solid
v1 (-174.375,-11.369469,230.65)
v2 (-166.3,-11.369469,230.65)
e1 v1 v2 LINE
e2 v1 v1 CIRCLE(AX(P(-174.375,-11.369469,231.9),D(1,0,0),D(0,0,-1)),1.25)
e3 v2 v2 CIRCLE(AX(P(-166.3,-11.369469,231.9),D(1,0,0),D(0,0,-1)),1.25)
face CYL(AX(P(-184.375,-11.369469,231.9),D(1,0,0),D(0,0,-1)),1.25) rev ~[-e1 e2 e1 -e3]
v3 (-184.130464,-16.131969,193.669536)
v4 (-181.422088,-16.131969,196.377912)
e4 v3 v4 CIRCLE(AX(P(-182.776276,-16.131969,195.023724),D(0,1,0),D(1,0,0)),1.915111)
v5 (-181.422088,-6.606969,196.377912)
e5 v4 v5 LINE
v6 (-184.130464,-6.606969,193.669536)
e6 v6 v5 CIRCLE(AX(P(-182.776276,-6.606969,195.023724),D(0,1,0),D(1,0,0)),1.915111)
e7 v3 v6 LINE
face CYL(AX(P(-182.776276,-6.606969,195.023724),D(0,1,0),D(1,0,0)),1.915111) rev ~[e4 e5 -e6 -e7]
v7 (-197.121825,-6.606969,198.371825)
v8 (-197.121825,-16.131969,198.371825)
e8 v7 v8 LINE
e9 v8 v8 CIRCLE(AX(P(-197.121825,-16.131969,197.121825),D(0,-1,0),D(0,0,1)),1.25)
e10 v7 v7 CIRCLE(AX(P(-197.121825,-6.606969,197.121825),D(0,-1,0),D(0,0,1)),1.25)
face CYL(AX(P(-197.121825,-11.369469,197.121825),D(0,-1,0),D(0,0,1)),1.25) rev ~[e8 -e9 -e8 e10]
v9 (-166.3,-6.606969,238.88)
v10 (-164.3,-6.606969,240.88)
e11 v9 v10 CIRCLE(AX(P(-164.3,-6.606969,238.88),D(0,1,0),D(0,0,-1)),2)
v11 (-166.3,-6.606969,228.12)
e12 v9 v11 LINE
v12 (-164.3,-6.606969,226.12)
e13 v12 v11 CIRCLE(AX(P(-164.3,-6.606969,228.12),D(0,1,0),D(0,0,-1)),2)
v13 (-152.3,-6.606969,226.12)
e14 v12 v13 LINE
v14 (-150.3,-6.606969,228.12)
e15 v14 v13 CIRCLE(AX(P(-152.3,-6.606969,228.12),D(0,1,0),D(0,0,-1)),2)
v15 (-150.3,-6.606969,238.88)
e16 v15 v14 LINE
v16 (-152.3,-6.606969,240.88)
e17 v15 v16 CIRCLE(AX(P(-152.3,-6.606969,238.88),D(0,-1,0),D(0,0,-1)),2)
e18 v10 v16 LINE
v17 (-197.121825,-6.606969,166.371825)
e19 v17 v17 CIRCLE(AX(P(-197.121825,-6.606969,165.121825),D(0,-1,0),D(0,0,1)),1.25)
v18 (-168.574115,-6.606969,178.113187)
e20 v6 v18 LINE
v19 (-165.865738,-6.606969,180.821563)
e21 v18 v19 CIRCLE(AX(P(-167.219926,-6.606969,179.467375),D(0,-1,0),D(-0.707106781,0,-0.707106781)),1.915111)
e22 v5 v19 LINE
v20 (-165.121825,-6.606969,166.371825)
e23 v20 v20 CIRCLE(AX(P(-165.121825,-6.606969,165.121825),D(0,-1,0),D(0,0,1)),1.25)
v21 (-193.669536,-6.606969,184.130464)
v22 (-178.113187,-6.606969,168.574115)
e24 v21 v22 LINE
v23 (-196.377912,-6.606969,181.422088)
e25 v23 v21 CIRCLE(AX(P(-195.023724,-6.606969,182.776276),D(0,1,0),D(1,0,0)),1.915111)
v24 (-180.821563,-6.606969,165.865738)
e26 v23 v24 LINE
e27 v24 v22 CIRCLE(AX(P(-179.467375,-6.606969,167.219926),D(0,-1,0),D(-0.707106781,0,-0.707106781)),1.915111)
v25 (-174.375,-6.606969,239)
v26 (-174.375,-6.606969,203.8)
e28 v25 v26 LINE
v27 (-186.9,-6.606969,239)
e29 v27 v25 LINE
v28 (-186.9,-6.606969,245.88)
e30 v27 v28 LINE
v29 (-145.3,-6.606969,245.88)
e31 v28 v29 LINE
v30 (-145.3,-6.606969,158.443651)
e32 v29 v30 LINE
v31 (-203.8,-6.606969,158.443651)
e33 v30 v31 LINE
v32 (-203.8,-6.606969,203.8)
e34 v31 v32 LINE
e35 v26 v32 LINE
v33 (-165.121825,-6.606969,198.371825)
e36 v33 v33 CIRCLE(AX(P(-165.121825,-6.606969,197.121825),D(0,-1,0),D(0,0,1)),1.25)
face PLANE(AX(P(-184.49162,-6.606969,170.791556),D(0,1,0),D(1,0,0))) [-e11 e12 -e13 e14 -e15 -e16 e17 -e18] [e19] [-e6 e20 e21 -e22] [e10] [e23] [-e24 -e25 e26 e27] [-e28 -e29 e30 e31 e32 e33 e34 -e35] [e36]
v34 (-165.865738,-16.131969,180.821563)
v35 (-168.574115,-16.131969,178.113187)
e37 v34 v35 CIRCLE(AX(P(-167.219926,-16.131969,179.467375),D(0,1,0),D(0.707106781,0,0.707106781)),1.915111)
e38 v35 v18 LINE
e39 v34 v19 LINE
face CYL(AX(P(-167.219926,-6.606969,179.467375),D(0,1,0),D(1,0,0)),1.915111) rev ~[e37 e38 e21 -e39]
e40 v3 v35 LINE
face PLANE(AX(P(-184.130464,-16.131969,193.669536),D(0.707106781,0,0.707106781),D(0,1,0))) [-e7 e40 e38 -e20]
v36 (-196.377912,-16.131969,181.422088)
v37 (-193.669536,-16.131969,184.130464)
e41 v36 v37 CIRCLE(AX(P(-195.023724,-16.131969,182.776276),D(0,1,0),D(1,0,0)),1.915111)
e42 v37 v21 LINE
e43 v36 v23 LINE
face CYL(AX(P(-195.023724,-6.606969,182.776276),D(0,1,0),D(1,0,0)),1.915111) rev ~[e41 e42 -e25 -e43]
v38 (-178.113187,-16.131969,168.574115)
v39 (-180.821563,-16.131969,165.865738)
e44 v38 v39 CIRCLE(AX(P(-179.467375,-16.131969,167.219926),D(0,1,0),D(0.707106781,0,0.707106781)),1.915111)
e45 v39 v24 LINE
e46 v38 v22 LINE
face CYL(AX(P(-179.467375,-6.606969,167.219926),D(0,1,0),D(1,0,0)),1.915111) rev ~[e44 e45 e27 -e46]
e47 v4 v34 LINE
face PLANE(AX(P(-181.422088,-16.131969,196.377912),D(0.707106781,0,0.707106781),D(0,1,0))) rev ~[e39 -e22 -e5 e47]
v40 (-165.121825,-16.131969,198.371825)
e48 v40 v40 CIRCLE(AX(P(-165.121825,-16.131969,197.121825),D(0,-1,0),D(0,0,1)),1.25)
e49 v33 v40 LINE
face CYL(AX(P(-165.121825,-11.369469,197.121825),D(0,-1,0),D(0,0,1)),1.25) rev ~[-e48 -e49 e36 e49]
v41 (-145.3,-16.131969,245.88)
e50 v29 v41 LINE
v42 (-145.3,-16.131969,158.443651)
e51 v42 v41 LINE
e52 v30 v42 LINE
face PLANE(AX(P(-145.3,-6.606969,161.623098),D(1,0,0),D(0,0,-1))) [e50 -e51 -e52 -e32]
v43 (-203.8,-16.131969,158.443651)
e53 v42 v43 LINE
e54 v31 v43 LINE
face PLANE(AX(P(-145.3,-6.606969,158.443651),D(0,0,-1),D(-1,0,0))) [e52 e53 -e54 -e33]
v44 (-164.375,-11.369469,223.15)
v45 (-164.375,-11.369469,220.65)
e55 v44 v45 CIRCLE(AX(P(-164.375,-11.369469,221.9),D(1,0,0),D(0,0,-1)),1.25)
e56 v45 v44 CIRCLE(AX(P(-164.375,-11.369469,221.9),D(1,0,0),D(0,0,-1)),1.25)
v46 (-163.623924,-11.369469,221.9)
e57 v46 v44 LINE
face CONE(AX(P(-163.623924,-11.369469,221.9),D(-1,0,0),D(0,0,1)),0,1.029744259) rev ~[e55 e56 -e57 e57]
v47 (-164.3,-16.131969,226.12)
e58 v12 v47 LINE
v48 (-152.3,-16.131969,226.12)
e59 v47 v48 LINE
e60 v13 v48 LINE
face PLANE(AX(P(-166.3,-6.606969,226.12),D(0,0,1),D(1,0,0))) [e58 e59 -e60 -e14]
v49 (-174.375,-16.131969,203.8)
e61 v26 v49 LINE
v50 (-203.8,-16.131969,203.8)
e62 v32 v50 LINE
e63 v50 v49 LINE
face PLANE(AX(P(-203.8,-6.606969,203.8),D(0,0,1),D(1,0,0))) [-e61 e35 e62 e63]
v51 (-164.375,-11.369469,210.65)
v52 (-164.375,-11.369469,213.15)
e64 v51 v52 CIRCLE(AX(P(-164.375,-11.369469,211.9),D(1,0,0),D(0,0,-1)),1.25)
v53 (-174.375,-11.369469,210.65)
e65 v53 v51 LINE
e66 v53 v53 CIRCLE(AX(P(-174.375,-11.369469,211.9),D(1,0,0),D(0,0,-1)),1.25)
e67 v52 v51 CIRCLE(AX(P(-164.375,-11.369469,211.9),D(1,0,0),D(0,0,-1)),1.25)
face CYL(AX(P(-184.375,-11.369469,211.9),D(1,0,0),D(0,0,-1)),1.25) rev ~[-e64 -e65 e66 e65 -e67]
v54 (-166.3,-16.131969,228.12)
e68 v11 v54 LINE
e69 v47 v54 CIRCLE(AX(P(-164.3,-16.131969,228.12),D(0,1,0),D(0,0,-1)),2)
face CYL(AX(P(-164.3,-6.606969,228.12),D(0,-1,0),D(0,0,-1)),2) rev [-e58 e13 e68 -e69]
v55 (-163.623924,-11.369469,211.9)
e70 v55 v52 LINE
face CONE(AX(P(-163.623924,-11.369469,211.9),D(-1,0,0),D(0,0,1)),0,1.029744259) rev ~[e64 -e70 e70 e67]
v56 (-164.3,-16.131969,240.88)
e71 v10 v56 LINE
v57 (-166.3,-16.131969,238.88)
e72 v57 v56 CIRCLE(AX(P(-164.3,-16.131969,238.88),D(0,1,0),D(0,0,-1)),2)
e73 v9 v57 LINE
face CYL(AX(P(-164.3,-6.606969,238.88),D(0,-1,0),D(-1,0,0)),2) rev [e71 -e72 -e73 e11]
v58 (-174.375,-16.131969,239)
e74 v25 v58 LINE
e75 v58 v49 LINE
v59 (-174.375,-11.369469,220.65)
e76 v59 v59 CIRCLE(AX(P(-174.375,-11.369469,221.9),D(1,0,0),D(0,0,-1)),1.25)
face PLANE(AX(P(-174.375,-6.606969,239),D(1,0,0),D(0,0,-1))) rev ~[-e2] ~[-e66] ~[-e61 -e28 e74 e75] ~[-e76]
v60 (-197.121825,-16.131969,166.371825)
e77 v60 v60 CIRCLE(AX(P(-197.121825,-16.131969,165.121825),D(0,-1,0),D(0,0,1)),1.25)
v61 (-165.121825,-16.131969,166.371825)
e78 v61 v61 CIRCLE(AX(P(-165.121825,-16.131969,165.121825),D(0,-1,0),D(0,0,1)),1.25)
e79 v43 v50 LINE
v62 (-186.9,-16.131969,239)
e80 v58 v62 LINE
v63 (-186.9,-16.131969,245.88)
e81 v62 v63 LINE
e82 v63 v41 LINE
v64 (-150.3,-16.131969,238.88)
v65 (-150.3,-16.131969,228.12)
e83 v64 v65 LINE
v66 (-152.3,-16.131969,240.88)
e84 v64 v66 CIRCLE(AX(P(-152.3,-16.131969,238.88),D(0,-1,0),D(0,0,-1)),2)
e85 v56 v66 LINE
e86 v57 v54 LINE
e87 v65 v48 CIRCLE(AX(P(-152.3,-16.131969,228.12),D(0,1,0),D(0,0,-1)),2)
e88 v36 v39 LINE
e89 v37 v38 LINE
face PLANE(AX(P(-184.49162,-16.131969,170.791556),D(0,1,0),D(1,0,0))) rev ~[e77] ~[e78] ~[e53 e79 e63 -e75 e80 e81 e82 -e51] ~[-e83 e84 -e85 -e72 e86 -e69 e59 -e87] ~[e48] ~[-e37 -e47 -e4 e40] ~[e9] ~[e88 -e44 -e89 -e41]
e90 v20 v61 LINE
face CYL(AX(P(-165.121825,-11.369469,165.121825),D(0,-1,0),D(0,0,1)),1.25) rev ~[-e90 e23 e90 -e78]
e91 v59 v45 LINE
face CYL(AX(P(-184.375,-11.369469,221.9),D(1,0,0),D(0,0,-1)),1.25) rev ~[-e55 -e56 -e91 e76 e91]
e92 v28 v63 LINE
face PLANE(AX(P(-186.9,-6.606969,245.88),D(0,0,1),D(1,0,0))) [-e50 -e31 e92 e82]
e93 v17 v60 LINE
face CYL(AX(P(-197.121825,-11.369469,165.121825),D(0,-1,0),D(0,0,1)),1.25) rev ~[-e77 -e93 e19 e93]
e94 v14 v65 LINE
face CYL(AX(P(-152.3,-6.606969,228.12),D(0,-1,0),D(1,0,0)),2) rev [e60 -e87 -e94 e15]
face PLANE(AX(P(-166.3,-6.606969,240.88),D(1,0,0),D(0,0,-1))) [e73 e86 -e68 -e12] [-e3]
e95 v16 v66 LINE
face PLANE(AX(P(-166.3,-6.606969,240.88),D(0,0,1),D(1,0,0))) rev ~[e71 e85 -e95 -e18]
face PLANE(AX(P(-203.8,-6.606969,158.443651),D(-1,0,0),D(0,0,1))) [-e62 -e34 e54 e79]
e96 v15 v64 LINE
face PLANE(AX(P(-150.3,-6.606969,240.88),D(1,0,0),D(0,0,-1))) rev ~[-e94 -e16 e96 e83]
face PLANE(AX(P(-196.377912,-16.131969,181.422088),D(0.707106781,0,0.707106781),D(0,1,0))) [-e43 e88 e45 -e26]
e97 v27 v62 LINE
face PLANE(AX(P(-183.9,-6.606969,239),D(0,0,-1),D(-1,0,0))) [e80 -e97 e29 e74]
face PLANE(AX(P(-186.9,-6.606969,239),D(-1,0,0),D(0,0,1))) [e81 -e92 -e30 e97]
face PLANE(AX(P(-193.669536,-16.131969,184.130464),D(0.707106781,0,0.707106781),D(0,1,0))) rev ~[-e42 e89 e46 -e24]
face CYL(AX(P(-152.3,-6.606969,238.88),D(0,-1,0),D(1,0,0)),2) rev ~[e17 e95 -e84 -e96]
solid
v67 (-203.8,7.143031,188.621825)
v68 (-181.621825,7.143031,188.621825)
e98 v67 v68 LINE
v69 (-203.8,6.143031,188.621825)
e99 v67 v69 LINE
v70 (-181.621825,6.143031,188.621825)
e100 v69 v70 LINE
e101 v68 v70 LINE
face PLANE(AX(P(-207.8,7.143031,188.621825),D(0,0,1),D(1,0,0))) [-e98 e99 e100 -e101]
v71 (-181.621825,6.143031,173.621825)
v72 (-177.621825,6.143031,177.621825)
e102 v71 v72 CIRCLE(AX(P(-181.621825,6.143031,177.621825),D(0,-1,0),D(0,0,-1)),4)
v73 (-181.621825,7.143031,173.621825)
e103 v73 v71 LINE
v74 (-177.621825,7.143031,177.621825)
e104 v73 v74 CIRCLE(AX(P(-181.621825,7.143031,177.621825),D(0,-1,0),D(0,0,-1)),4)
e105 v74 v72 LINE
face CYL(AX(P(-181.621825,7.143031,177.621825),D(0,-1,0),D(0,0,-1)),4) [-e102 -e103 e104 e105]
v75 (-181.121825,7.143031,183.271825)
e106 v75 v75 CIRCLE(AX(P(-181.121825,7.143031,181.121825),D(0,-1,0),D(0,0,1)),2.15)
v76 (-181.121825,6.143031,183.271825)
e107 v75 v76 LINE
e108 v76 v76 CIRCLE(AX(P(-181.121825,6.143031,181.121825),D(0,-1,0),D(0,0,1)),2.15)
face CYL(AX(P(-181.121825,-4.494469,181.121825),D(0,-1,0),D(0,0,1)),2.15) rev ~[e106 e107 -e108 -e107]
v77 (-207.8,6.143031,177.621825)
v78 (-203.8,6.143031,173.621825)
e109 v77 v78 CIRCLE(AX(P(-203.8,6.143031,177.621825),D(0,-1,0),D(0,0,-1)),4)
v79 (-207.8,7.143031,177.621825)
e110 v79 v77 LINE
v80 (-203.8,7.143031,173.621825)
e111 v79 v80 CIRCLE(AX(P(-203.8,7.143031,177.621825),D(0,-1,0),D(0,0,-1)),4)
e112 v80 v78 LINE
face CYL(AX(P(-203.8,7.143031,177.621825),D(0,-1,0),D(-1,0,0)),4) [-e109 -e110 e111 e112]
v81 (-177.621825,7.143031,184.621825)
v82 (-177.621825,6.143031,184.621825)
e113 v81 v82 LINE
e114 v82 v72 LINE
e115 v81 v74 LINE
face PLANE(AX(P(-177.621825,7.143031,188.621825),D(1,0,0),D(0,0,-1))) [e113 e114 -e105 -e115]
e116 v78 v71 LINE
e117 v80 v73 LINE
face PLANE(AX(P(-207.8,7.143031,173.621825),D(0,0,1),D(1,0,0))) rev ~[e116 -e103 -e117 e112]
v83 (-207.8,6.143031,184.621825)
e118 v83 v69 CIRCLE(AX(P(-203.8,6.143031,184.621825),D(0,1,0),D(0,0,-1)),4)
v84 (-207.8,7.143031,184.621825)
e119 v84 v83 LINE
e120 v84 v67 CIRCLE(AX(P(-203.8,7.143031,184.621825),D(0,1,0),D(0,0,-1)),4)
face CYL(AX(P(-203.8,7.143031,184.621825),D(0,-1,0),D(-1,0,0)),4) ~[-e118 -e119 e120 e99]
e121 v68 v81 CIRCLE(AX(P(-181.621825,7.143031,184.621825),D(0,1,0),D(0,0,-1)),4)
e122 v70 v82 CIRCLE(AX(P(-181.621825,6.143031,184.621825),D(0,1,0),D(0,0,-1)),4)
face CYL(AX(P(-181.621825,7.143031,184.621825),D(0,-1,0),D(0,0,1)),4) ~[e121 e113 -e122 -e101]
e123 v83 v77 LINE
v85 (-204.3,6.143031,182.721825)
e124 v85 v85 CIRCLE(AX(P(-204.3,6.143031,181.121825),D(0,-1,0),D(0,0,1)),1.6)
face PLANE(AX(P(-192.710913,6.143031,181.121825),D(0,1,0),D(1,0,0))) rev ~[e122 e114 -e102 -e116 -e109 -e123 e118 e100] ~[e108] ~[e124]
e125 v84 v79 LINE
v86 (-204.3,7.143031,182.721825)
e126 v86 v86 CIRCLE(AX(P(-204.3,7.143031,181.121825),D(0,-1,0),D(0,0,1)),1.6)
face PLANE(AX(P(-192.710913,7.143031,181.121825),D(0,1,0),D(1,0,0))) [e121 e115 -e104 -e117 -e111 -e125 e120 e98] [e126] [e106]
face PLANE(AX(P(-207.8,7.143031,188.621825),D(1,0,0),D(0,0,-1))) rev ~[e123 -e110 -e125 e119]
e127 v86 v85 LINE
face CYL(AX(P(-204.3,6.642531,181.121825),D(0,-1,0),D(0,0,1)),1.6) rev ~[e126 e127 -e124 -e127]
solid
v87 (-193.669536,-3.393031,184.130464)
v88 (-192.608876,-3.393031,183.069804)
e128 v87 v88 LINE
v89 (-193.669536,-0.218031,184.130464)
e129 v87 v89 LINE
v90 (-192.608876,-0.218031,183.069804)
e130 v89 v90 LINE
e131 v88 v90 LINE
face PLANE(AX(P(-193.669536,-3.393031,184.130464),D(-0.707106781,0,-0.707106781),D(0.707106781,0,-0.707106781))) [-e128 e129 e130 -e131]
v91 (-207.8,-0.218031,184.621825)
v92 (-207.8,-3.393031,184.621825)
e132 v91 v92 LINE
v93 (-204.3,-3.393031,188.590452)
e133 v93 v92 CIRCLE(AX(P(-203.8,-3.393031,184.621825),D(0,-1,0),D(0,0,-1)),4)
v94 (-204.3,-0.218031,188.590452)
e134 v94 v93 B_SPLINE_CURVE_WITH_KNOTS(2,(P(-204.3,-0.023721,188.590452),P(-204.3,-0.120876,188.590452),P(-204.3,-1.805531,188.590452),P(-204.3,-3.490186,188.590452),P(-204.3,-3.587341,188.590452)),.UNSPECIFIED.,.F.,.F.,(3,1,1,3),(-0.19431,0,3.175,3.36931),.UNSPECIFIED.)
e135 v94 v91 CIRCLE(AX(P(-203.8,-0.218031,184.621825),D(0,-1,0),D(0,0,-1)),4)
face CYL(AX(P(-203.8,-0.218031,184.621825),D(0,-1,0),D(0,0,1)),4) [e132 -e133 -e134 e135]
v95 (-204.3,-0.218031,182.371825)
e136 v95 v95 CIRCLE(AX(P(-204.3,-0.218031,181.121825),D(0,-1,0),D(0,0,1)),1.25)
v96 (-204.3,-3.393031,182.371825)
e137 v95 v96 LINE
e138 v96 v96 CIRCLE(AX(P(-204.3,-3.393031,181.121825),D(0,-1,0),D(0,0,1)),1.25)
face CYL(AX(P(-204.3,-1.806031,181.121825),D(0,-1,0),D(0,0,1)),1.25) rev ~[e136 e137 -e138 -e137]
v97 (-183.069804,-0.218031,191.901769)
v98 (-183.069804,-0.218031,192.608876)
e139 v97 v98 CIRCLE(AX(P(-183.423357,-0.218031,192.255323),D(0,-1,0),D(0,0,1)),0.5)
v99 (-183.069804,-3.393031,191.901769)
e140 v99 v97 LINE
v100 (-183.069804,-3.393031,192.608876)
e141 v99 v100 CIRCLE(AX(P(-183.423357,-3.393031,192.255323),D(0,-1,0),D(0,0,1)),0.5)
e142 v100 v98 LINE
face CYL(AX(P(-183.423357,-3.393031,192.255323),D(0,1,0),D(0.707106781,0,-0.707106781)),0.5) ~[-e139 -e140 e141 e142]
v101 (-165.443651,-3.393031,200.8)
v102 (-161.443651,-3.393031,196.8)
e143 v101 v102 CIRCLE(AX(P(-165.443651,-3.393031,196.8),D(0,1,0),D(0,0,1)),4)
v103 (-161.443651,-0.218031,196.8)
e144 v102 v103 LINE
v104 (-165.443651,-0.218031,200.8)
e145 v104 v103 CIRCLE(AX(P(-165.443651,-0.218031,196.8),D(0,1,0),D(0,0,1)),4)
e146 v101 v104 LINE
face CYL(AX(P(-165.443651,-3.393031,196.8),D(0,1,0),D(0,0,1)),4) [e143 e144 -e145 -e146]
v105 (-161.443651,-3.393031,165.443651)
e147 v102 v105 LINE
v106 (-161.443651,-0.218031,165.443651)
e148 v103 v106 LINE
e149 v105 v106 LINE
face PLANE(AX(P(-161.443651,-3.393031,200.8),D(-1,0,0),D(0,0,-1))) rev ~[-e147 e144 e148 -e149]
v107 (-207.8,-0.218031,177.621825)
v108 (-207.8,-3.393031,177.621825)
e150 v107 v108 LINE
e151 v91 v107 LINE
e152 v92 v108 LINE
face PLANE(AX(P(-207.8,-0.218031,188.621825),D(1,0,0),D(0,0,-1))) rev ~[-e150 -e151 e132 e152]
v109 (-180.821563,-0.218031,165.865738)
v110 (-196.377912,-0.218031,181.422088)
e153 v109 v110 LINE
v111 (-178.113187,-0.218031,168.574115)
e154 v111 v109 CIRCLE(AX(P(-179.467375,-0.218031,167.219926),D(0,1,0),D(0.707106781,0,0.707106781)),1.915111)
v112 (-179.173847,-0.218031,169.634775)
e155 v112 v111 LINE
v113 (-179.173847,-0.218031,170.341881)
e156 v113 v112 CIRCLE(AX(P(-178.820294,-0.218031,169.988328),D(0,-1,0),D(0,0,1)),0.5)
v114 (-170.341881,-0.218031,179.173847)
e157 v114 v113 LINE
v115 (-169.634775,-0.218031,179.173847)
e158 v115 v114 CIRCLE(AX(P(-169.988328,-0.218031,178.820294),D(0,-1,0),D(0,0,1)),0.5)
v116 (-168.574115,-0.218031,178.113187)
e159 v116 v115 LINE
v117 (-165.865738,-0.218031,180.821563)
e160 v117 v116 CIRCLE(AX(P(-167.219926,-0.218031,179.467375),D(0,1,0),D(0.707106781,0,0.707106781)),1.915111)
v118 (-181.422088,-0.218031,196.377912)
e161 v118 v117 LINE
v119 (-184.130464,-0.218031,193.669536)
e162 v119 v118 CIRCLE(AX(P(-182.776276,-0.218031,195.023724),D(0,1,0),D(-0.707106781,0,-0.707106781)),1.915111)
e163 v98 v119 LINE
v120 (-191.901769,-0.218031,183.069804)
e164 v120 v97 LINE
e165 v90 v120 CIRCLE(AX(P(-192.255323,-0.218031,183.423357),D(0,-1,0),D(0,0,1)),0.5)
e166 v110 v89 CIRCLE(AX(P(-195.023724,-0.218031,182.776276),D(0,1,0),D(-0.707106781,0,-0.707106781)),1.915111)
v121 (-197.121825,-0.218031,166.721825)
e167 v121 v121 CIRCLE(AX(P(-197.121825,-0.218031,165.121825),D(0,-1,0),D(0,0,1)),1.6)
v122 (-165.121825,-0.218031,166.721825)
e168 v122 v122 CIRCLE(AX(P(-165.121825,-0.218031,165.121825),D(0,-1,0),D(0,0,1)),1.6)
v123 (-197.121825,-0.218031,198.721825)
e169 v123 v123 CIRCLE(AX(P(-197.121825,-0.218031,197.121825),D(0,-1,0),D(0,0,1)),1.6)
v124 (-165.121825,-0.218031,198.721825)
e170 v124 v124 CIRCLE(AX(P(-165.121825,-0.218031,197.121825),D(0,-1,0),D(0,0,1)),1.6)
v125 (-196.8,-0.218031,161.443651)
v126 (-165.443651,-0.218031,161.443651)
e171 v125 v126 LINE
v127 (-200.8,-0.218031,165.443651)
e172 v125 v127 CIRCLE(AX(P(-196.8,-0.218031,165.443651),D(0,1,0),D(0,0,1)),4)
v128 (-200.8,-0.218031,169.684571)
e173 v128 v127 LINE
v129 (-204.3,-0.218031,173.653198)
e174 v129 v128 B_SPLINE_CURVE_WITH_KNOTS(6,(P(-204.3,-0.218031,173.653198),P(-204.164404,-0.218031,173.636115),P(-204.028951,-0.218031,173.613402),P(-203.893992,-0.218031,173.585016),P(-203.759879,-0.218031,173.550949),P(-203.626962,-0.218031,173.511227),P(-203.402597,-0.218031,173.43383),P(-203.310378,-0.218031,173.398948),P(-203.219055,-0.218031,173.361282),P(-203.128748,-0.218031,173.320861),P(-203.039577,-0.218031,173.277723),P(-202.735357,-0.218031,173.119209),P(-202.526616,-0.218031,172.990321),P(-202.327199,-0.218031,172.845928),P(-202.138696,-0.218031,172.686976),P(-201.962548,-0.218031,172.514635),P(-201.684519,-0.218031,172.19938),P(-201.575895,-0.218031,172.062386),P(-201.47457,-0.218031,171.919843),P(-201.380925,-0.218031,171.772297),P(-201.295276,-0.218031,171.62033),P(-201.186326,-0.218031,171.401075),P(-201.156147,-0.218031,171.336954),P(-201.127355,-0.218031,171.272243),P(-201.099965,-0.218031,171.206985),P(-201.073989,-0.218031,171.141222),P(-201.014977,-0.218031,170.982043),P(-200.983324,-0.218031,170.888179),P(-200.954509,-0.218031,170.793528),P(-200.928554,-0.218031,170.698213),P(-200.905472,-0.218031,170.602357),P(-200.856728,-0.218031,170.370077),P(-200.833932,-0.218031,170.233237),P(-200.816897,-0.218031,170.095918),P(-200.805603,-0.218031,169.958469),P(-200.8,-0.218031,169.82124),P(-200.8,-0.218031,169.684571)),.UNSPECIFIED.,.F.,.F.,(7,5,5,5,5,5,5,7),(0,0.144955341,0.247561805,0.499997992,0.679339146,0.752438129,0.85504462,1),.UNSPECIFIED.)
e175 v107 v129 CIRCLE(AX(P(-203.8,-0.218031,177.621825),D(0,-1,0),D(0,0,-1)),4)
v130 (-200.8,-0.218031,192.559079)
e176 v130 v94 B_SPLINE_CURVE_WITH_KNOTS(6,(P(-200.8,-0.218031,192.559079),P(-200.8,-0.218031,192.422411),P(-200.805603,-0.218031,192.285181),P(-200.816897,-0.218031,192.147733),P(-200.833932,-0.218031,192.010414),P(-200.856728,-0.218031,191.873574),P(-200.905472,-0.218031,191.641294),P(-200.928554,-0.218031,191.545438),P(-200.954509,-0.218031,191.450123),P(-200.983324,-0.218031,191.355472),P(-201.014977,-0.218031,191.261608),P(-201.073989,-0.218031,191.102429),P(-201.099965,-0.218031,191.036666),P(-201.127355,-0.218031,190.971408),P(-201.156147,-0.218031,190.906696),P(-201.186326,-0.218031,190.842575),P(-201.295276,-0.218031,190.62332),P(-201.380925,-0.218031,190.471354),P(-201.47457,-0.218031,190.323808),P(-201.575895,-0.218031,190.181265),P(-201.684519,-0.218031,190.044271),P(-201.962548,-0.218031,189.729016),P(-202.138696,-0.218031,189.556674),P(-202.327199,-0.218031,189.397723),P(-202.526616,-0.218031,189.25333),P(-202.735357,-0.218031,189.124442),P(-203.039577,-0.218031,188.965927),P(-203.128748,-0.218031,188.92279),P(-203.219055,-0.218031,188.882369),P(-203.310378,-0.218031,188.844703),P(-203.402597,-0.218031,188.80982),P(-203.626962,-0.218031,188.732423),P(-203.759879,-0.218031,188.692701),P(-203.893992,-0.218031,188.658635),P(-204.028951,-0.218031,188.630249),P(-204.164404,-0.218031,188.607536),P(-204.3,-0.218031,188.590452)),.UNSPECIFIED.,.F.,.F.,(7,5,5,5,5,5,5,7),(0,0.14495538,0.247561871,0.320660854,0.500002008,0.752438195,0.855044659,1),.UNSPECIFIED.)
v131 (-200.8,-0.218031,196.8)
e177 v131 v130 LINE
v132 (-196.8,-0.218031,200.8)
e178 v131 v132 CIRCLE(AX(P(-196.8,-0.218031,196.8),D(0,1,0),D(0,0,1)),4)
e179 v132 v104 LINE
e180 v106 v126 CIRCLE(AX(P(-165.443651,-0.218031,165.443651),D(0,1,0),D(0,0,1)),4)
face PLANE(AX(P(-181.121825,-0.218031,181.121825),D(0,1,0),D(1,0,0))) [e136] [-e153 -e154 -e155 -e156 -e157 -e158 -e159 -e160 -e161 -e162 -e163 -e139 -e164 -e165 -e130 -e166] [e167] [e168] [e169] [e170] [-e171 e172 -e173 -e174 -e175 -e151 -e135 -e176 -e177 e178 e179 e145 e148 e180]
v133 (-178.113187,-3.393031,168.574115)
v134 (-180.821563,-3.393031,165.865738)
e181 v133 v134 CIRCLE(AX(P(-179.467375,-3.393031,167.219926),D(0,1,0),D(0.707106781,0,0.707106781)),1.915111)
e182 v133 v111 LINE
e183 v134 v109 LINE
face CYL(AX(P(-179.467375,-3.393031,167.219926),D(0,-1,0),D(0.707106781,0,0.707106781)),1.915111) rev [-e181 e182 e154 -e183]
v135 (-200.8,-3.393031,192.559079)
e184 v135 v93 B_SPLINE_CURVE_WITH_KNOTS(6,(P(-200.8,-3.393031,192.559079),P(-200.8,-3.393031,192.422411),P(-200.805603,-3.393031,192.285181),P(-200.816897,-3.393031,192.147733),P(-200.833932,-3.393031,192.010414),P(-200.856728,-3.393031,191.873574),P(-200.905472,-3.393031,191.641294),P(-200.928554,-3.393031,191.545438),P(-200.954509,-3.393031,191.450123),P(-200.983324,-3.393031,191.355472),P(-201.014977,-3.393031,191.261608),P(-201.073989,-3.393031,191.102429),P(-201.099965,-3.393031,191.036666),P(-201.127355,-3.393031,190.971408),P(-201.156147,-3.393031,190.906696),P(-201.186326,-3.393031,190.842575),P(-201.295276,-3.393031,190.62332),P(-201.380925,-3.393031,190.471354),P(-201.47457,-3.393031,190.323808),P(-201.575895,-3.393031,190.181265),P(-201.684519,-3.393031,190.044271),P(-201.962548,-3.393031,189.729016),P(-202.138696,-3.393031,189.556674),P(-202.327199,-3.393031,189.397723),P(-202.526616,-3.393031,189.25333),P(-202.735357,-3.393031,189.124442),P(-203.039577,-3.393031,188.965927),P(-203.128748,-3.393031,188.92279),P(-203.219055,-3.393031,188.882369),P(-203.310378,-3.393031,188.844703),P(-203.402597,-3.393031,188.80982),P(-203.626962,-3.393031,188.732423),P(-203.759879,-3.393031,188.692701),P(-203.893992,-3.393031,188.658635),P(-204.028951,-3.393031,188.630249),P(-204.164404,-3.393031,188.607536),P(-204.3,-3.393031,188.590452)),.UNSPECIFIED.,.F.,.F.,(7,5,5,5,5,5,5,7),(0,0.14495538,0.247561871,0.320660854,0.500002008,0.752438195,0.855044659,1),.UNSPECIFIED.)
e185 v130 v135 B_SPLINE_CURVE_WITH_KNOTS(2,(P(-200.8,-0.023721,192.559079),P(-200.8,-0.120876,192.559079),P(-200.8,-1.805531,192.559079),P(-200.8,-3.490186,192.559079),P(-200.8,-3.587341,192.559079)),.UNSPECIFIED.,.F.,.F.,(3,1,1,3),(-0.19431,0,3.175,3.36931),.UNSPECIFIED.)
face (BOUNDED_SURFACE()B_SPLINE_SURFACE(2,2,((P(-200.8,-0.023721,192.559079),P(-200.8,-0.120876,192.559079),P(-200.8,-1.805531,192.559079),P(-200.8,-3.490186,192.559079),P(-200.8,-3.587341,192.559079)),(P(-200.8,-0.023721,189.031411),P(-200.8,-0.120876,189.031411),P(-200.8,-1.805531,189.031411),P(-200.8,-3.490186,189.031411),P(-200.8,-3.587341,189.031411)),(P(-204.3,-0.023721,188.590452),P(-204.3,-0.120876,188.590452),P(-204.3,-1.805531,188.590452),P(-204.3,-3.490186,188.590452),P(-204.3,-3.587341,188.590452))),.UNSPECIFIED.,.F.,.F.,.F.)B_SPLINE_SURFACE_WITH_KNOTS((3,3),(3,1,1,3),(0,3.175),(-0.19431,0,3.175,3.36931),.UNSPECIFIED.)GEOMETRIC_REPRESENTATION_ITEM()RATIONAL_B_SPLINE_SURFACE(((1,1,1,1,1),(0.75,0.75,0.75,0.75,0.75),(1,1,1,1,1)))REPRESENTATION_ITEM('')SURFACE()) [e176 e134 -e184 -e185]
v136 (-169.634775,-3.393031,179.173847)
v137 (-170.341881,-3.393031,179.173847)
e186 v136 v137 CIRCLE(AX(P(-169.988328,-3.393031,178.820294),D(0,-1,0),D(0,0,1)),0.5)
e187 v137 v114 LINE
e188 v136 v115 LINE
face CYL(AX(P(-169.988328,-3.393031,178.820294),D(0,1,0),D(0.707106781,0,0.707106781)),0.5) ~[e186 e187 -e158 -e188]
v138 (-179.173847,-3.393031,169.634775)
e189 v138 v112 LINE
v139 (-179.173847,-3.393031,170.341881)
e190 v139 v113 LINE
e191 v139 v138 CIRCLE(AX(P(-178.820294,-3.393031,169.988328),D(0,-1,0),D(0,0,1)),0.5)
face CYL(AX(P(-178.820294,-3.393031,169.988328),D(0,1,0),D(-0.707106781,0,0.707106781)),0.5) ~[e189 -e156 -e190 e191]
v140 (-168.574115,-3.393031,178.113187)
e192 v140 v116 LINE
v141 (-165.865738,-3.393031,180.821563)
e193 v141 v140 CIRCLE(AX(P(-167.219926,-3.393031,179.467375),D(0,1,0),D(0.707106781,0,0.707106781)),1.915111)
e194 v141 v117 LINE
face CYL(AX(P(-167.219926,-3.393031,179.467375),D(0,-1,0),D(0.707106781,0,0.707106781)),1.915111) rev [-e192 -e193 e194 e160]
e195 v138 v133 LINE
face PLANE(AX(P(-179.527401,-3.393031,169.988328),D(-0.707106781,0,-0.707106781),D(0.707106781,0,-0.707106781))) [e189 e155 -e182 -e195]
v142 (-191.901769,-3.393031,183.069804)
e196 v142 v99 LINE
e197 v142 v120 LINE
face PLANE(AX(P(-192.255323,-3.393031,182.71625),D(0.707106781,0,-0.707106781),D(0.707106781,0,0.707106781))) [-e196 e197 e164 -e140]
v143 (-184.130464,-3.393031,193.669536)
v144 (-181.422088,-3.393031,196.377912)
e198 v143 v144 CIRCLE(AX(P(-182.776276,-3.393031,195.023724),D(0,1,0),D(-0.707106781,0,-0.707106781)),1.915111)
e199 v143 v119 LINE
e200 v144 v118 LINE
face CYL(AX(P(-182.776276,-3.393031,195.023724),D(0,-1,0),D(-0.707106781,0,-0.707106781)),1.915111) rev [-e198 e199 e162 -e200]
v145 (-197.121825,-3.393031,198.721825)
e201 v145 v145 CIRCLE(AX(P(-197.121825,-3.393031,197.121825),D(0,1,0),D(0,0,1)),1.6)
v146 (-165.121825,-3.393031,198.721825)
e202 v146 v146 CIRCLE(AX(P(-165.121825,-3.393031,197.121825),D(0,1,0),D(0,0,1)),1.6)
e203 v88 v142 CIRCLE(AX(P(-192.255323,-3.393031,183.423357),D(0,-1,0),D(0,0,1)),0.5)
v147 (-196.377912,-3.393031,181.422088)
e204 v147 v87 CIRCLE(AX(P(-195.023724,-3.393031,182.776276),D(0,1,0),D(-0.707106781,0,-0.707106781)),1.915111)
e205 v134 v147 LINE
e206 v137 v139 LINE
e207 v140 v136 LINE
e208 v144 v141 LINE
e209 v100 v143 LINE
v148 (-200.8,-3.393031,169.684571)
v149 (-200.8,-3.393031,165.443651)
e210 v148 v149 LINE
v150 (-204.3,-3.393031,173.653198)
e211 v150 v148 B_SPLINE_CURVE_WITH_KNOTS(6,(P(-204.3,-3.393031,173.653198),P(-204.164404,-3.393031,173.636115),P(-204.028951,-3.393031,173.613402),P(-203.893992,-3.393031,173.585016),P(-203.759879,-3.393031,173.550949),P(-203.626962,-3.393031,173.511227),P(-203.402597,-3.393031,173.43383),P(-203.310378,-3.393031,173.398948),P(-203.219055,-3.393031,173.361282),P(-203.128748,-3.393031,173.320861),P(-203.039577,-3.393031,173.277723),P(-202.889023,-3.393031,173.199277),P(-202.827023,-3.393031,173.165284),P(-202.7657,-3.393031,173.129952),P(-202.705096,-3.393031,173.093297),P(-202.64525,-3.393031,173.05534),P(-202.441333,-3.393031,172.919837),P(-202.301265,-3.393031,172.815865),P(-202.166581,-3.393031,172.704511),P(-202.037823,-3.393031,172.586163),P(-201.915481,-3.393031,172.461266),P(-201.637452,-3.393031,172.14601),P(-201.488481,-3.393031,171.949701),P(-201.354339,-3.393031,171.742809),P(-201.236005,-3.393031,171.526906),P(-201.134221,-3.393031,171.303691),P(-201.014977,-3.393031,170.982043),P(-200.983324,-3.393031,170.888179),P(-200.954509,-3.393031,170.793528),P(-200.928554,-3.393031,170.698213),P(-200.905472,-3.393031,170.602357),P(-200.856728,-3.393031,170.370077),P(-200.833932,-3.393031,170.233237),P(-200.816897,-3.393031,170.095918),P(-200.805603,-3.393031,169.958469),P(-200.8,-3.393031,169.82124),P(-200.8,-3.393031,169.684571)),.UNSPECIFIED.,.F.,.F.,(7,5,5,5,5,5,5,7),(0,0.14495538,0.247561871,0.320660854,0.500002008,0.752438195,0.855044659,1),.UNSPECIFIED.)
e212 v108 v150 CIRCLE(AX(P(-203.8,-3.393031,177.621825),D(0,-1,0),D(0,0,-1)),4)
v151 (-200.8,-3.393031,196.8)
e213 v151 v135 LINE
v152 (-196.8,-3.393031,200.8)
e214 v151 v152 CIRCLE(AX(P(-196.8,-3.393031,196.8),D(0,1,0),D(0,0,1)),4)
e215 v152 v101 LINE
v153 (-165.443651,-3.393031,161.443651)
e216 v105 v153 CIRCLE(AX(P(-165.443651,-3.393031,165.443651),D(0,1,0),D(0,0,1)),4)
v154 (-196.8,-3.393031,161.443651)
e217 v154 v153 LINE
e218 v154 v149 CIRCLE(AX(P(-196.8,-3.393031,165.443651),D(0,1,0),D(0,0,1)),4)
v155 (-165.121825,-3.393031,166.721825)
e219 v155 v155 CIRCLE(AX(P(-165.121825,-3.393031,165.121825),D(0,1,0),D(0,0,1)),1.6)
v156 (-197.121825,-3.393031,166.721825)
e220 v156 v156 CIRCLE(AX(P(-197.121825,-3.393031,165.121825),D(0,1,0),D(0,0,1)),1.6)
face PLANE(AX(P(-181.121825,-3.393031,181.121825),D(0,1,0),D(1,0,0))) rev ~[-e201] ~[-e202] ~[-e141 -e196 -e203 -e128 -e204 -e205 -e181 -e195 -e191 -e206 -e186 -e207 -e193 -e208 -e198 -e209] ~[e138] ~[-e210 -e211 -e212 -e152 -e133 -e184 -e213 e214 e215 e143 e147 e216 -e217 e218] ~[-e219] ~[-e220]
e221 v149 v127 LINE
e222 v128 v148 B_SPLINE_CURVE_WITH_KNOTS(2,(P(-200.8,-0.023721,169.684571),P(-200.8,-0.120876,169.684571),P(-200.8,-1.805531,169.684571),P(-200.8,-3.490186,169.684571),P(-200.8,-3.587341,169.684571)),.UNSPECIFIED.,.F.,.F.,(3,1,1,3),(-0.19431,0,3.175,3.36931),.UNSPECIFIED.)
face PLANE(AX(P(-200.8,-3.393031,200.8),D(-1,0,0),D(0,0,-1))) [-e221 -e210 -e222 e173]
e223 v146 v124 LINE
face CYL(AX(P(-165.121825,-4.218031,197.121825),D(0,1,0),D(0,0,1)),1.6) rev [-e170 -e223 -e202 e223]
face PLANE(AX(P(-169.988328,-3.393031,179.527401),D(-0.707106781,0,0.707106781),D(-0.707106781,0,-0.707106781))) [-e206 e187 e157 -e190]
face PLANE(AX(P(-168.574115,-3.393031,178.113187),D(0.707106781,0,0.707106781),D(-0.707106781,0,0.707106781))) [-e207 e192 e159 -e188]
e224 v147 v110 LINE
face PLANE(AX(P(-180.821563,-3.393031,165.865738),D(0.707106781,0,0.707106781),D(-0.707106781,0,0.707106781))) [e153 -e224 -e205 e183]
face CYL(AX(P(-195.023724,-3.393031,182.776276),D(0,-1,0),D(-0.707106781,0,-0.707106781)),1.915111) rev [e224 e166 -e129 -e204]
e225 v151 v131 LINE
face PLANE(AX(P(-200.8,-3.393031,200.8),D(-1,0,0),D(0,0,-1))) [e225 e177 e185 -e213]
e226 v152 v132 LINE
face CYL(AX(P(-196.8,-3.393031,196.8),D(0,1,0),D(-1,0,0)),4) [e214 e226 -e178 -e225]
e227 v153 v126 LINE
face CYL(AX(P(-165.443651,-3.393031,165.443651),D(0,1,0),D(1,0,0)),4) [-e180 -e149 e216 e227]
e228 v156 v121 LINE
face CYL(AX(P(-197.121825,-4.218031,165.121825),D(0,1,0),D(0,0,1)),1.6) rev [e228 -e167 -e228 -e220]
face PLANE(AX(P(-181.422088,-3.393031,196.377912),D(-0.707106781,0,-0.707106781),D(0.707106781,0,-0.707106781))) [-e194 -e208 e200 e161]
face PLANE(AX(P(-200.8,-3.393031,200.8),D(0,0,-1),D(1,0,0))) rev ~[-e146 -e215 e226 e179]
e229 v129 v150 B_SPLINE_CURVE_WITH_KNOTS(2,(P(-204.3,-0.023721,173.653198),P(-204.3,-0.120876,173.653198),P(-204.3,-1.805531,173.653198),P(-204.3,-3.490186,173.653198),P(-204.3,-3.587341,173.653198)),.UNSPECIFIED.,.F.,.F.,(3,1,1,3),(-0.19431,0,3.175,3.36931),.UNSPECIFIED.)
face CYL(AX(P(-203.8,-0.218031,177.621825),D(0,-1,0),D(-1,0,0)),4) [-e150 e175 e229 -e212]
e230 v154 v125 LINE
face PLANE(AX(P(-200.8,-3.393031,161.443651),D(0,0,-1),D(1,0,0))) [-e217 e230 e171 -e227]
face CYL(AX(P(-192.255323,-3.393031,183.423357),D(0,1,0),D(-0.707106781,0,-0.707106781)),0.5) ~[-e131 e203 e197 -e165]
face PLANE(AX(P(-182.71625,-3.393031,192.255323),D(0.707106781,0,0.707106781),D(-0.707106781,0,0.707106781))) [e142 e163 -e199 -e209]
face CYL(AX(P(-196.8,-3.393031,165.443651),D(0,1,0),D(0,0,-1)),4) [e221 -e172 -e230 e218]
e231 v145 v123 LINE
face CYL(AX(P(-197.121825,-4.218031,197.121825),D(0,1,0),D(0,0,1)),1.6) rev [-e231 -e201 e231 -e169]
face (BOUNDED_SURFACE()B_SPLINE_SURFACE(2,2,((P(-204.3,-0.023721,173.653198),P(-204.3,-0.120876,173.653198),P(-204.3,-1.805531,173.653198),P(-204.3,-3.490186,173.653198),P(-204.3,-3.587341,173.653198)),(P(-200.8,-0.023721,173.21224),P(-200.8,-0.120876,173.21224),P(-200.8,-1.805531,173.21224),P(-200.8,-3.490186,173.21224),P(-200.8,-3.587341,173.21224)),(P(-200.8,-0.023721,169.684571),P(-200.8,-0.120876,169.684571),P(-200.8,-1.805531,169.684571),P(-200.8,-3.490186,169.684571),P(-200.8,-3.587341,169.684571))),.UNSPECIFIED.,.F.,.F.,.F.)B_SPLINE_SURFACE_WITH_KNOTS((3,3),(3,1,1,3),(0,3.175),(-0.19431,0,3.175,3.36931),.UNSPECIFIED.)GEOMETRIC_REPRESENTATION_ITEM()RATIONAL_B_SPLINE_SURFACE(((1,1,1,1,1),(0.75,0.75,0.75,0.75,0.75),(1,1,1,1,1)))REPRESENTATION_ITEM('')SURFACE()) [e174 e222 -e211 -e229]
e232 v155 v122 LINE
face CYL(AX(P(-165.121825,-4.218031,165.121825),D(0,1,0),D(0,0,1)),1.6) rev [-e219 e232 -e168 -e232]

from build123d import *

# Parameters (mm, degrees)
SKETCH3_W                            = 13.49028586
SKETCH3_H                            = 9.525
BOSS_EXTRUDE1_DEPTH                  = 22
SKETCH3_W_2                          = 3
BOSS_EXTRUDE1_2_DEPTH                = 22
BOSS_EXTRUDE1_3_DEPTH                = 22
SKETCH4_W                            = 27.150730292
SKETCH4_H                            = 9.525
BOSS_EXTRUDE2_DEPTH                  = 3
SKETCH5_W                            = 27.150730292
SKETCH5_H                            = 9.525
BOSS_EXTRUDE3_DEPTH                  = 3
SKETCH7_W                            = 16
SKETCH7_H                            = 14.76
BOSS_EXTRUDE4_DEPTH                  = 9.525
SKETCH8_W                            = 9.525
SKETCH8_H                            = 35.2
CUT_EXTRUDE1_DEPTH                   = 9.525
TAP_DRILL_FOR_M3X0_5_TAP1_D          = 2.5
TAP_DRILL_FOR_M3X0_5_TAP1_DEPTH      = 10
TAP_DRILL_FOR_M3X0_5_TAP1_TIP        = 0.751075774
BOSS_EXTRUDE5_DEPTH                  = 9.525
SKETCH15_R                           = 1.915111108
CUT_EXTRUDE4_DEPTH                   = 320.502957772
FILLET4_R                            = 2
SKETCH22_W                           = 39.356349186
SKETCH22_H                           = 39.356349186
BOSS_EXTRUDE7_DEPTH                  = 3.175
FILLET9_R                            = 0.5
M3_CLEARANCE_HOLE1_AT_2_COUNT        = 2
M3_CLEARANCE_HOLE1_AT_2_PITCH        = 32
M3_CLEARANCE_HOLE1_AT_3_COUNT        = 2
M3_CLEARANCE_HOLE1_AT_3_PITCH        = 32
M3_CLEARANCE_HOLE1_AT_4_COUNT        = 2
M3_CLEARANCE_HOLE1_AT_4_PITCH        = 45.254833996
SKETCH27_W                           = 1.25
SKETCH27_H                           = 9.525
TAP_DRILL_FOR_M3X0_5_TAP2_AT_2_COUNT = 2
TAP_DRILL_FOR_M3X0_5_TAP2_AT_2_PITCH = 45.254833996
TAP_DRILL_FOR_M3X0_5_TAP2_AT_3_COUNT = 2
TAP_DRILL_FOR_M3X0_5_TAP2_AT_3_PITCH = 32
TAP_DRILL_FOR_M3X0_5_TAP2_AT_4_COUNT = 2
TAP_DRILL_FOR_M3X0_5_TAP2_AT_4_PITCH = 32
SKETCH28_W                           = 7
SKETCH28_H                           = 15
BOSS_EXTRUDE10_DEPTH                 = 3.175
SKETCH30_W                           = 1.25
SKETCH30_H                           = 3.176
FILLET10_R                           = 4
FILLET11_R                           = 4
SKETCH31_W                           = 30.178174593
SKETCH31_H                           = 15
BOSS_EXTRUDE11_DEPTH                 = 1
SKETCH33_W                           = 1.6
SKETCH33_H                           = 1.001
SKETCH35_W                           = 2.15
SKETCH35_H                           = 23.275
FILLET12_R                           = 4


with BuildPart() as part:
    # Sketch3 → Boss-Extrude1 (new body)
    with BuildSketch(Plane(origin=(-188.9, 0, 188.9), x_dir=(0.7071067811865475, 0, 0.7071067811865477), z_dir=(-0.7071067811865477, 0, 0.7071067811865475))):
        with Locations((0, -11.369469024)):
            Rectangle(SKETCH3_W, SKETCH3_H)
    extrude(amount=-BOSS_EXTRUDE1_DEPTH)



with BuildPart() as body_2:
    # Sketch3 → Boss-Extrude1 2 (new body)
    with BuildSketch(Plane(origin=(-188.9, 0, 188.9), x_dir=(0.7071067811865475, 0, 0.7071067811865477), z_dir=(-0.7071067811865477, 0, 0.7071067811865475))):
        with Locations((12.075365146, -11.369469024)):
            Rectangle(SKETCH3_W_2, SKETCH3_H)
    extrude(amount=-BOSS_EXTRUDE1_2_DEPTH)


with BuildPart() as body_3:
    # Sketch3 → Boss-Extrude1 3 (new body)
    with BuildSketch(Plane(origin=(-188.9, 0, 188.9), x_dir=(0.7071067811865475, 0, 0.7071067811865477), z_dir=(-0.7071067811865477, 0, 0.7071067811865475))):
        with Locations((-12.075365146, -11.369469024)):
            Rectangle(SKETCH3_W_2, SKETCH3_H)
    extrude(amount=-BOSS_EXTRUDE1_3_DEPTH)


with BuildPart() as part_1:
    add(part.part)

    add(body_2.part)  # Boss-Extrude2 merges body 2

    add(body_3.part)  # Boss-Extrude2 merges body 3
    # Sketch4 → Boss-Extrude2 (add)
    with BuildSketch(Plane(origin=(-188.9, 0, 188.9), x_dir=(0.7071067811865472, 0, 0.7071067811865479), z_dir=(-0.7071067811865479, 0, 0.7071067811865472))):
        with Locations((0, -11.369469024)):
            Rectangle(SKETCH4_W, SKETCH4_H)
    extrude(amount=BOSS_EXTRUDE2_DEPTH)

    # Sketch5 → Boss-Extrude3 (add)
    with BuildSketch(Plane(origin=(-173.343650814, 0, 173.343650814), x_dir=(-0.7071067811865472, 0, -0.7071067811865479), z_dir=(0.7071067811865479, 0, -0.7071067811865472))):
        with Locations((0, -11.369469024)):
            Rectangle(SKETCH5_W, SKETCH5_H)
    extrude(amount=BOSS_EXTRUDE3_DEPTH)

    # Sketch7 → Boss-Extrude4 (add)
    with BuildSketch(Plane(origin=(0, -6.606969024, 0), x_dir=(1, 0, 0), z_dir=(0, 1, 0))):
        Polygon((-183.9, -239), (-186.9, -239), (-186.9, -245.88), (-145.3, -245.88), (-145.3, -161.623097719), (-180.821563222, -161.623097719), (-161.623097719, -180.821563222), (-181.422087592, -200.620553095), (-200.620553095, -181.422087592), (-200.620553095, -203.8), (-183.9, -203.8), align=None)
        with Locations((-158.3, -233.5)):
            Rectangle(SKETCH7_W, SKETCH7_H, mode=Mode.SUBTRACT)
    extrude(amount=-BOSS_EXTRUDE4_DEPTH)

    # Sketch8 → Cut-Extrude1 (cut)
    with BuildSketch(Plane(origin=(0, -6.606969024, 0), x_dir=(1, 0, 0), z_dir=(0, 1, 0))):
        with Locations((-179.1375, -221.4)):
            Rectangle(SKETCH8_W, SKETCH8_H)
    extrude(amount=-CUT_EXTRUDE1_DEPTH, mode=Mode.SUBTRACT)

    # Tap Drill for M3x0.5 Tap1
    with Locations(Plane.ZY.offset(174.375)):
        with Locations((211.9, -11.369469024), (231.9, -11.369469024), (221.9, -11.369469024)):
            Hole(TAP_DRILL_FOR_M3X0_5_TAP1_D / 2, depth=TAP_DRILL_FOR_M3X0_5_TAP1_DEPTH)
            with Locations((0, 0, -(TAP_DRILL_FOR_M3X0_5_TAP1_DEPTH + TAP_DRILL_FOR_M3X0_5_TAP1_TIP / 2))):  # 118° drill point
                Cone(0, TAP_DRILL_FOR_M3X0_5_TAP1_D / 2, TAP_DRILL_FOR_M3X0_5_TAP1_TIP, mode=Mode.SUBTRACT)

    # Sketch13 → Boss-Extrude5 (add)
    with BuildSketch(Plane(origin=(0, -6.606969024, 0), x_dir=(1, 0, 0), z_dir=(0, 1, 0))):
        Polygon((-203.8, -203.8), (-200.620553095, -203.8), (-200.620553095, -181.422087592), (-180.821563222, -161.623097719), (-145.3, -161.623097719), (-145.3, -158.443650814), (-203.8, -158.443650814), align=None)
    extrude(amount=-BOSS_EXTRUDE5_DEPTH)

    # Sketch15 → Cut-Extrude4 (cut, through all)
    with BuildSketch(Plane(origin=(0, -6.606969024, 0), x_dir=(1, 0, 0), z_dir=(0, 1, 0))):
        with Locations((-179.467375171, -167.219926457)):
            Circle(SKETCH15_R)
        with Locations((-167.219926457, -179.467375171)):
            Circle(SKETCH15_R)
        with Locations((-195.023724357, -182.776275643)):
            Circle(SKETCH15_R)
        with Locations((-182.776275643, -195.023724357)):
            Circle(SKETCH15_R)
    extrude(amount=-CUT_EXTRUDE4_DEPTH, mode=Mode.SUBTRACT)

    # Fillet4
    fillet4_edges = [part_1.edges().sort_by_distance(p)[0] for p in [
        (-166.3, -11.369469024, 226.12),
        (-150.3, -11.369469024, 226.12),
        (-150.3, -11.369469024, 240.88),
        (-166.3, -11.369469024, 240.88),
    ]]
    fillet(fillet4_edges, radius=FILLET4_R)

    # Sketch27 → Tap Drill for M3x0.5 Tap2 (revolve, cut)
    with BuildSketch(Plane(origin=(-165.121825407, -6.606969024, 165.121825407), x_dir=(0, 0, 1), z_dir=(1, 0, 0))):
        with Locations((0.625, 4.7625)):
            Rectangle(SKETCH27_W, SKETCH27_H)
    tap_drill_for_m3x0_5_tap2 = revolve(axis=Axis((-165.121825407, -0.256969024, 165.121825407), (0, -1, 0)), mode=Mode.SUBTRACT)

    # Tap Drill for M3x0.5 Tap2 at 2: Tap Drill for M3x0.5 Tap2 ×2
    with Locations(*[Vector(-0.7071067811865476, 0, 0.7071067811865476) * (i * TAP_DRILL_FOR_M3X0_5_TAP2_AT_2_PITCH) for i in range(1, TAP_DRILL_FOR_M3X0_5_TAP2_AT_2_COUNT)]):
        add(tap_drill_for_m3x0_5_tap2, mode=Mode.SUBTRACT)

    # Tap Drill for M3x0.5 Tap2 at 3: Tap Drill for M3x0.5 Tap2 ×2
    with Locations(*[(-i * TAP_DRILL_FOR_M3X0_5_TAP2_AT_3_PITCH, 0, 0) for i in range(1, TAP_DRILL_FOR_M3X0_5_TAP2_AT_3_COUNT)]):
        add(tap_drill_for_m3x0_5_tap2, mode=Mode.SUBTRACT)

    # Tap Drill for M3x0.5 Tap2 at 4: Tap Drill for M3x0.5 Tap2 ×2
    with Locations(*[(0, 0, i * TAP_DRILL_FOR_M3X0_5_TAP2_AT_4_PITCH) for i in range(1, TAP_DRILL_FOR_M3X0_5_TAP2_AT_4_COUNT)]):
        add(tap_drill_for_m3x0_5_tap2, mode=Mode.SUBTRACT)


with BuildPart() as body_2_2:
    # Sketch22 → Boss-Extrude7 (new body)
    with BuildSketch(Plane(origin=(0, -3.393030976, 0), x_dir=(1, 0, 0), z_dir=(0, 1, 0))):
        with Locations((-181.121825407, -181.121825407)):
            Rectangle(SKETCH22_W, SKETCH22_H)
        with BuildLine():
            Line((-180.821563222, -165.865738406), (-196.377912408, -181.422087592))
            ThreePointArc((-196.377912408, -181.422087592), (-196.377912408, -184.130463694), (-193.669536306, -184.130463694))
            Line((-193.669536306, -184.130463694), (-192.255322744, -182.716250132))
            Line((-192.255322744, -182.716250132), (-182.716250132, -192.255322744))
            Line((-182.716250132, -192.255322744), (-184.130463694, -193.669536306))
            ThreePointArc((-184.130463694, -193.669536306), (-184.130463694, -196.377912408), (-181.422087592, -196.377912408))
            Line((-181.422087592, -196.377912408), (-165.865738406, -180.821563222))
            ThreePointArc((-165.865738406, -180.821563222), (-165.865738406, -178.11318712), (-168.574114508, -178.11318712))
            Line((-168.574114508, -178.11318712), (-169.98832807, -179.527400682))
            Line((-169.98832807, -179.527400682), (-179.527400682, -169.98832807))
            Line((-179.527400682, -169.98832807), (-178.11318712, -168.574114508))
            ThreePointArc((-178.11318712, -168.574114508), (-178.11318712, -165.865738406), (-180.821563222, -165.865738406))
        make_face(mode=Mode.SUBTRACT)
    extrude(amount=BOSS_EXTRUDE7_DEPTH)

    # Fillet9
    fillet9_edges = [body_2_2.edges().sort_by_distance(p)[0] for p in [
        (-169.98832807, -1.805530976, 179.527400682),
        (-179.527400682, -1.805530976, 169.98832807),
        (-192.255322744, -1.805530976, 182.716250132),
        (-182.716250132, -1.805530976, 192.255322744),
    ]]
    fillet(fillet9_edges, radius=FILLET9_R)

    # Sketch25 → M3 Clearance Hole1 (revolve, cut)
    with BuildSketch(Plane(origin=(-197.121825407, -0.218030976, 197.121825407), x_dir=(0, 0, 1), z_dir=(1, 0, 0))):
        Polygon((0, 0), (0, 4.96137699), (1.6, 4), (1.6, 0), align=None)
    m3_clearance_hole1 = revolve(axis=Axis((-197.121825407, 6.131969024, 197.121825407), (0, -1, 0)), mode=Mode.SUBTRACT)

    # M3 Clearance Hole1 at 2: M3 Clearance Hole1 ×2
    with Locations(*[(0, 0, -i * M3_CLEARANCE_HOLE1_AT_2_PITCH) for i in range(1, M3_CLEARANCE_HOLE1_AT_2_COUNT)]):
        add(m3_clearance_hole1, mode=Mode.SUBTRACT)

    # M3 Clearance Hole1 at 3: M3 Clearance Hole1 ×2
    with Locations(*[(i * M3_CLEARANCE_HOLE1_AT_3_PITCH, 0, 0) for i in range(1, M3_CLEARANCE_HOLE1_AT_3_COUNT)]):
        add(m3_clearance_hole1, mode=Mode.SUBTRACT)

    # M3 Clearance Hole1 at 4: M3 Clearance Hole1 ×2
    with Locations(*[Vector(0.7071067811865475, 0, -0.7071067811865476) * (i * M3_CLEARANCE_HOLE1_AT_4_PITCH) for i in range(1, M3_CLEARANCE_HOLE1_AT_4_COUNT)]):
        add(m3_clearance_hole1, mode=Mode.SUBTRACT)

    # Sketch28 → Boss-Extrude10 (add)
    with BuildSketch(Plane(origin=(0, -0.218030976, 0), x_dir=(1, 0, 0), z_dir=(0, 1, 0))):
        with Locations((-204.3, -181.121825407)):
            Rectangle(SKETCH28_W, SKETCH28_H)
    extrude(amount=-BOSS_EXTRUDE10_DEPTH)

    # Sketch30 → Tap Drill for M3x0.5 Tap5 (revolve, cut)
    with BuildSketch(Plane(origin=(-204.3, -0.218030976, 181.121825407), x_dir=(0, 0, 1), z_dir=(1, 0, 0))):
        with Locations((0.625, 1.588)):
            Rectangle(SKETCH30_W, SKETCH30_H)
    revolve(axis=Axis((-204.3, 6.131969024, 181.121825407), (0, -1, 0)), mode=Mode.SUBTRACT)

    # Fillet10
    fillet10_edges = [body_2_2.edges().sort_by_distance(p)[0] for p in [
        (-207.8, -1.805530976, 188.621825407),
        (-207.8, -1.805530976, 173.621825407),
        (-200.8, -1.805530976, 161.443650814),
        (-161.443650814, -1.805530976, 161.443650814),
        (-161.443650814, -1.805530976, 200.8),
        (-200.8, -1.805530976, 200.8),
    ]]
    fillet(fillet10_edges, radius=FILLET10_R)

    # Fillet11
    fillet11_edges = [body_2_2.edges().sort_by_distance(p)[0] for p in [
        (-200.8, -1.805530976, 173.621825407),
        (-200.8, -1.805530976, 188.621825407),
    ]]
    fillet(fillet11_edges, radius=FILLET11_R)


with BuildPart() as body_3_2:
    # Sketch31 → Boss-Extrude11 (new body)
    with BuildSketch(Plane(origin=(0, 7.143030976, 0), x_dir=(1, 0, 0), z_dir=(0, 1, 0))):
        with Locations((-192.710912704, -181.121825407)):
            Rectangle(SKETCH31_W, SKETCH31_H)
    extrude(amount=-BOSS_EXTRUDE11_DEPTH)

    # Sketch33 → M3 Clearance Hole3 (revolve, cut)
    with BuildSketch(Plane(origin=(-204.3, 7.143030976, 181.121825407), x_dir=(0, 0, 1), z_dir=(1, 0, 0))):
        with Locations((0.8, 0.5005)):
            Rectangle(SKETCH33_W, SKETCH33_H)
    revolve(axis=Axis((-204.3, 13.493030976, 181.121825407), (0, -1, 0)), mode=Mode.SUBTRACT)

    # Sketch35 → M4 Clearance Hole1 (revolve, cut)
    with BuildSketch(Plane(origin=(-181.121825407, 7.143030976, 181.121825407), x_dir=(0, 0, 1), z_dir=(1, 0, 0))):
        with Locations((1.075, 11.6375)):
            Rectangle(SKETCH35_W, SKETCH35_H)
    revolve(axis=Axis((-181.121825407, 13.493030976, 181.121825407), (0, -1, 0)), mode=Mode.SUBTRACT)

    # Fillet12
    fillet12_edges = [body_3_2.edges().sort_by_distance(p)[0] for p in [
        (-207.8, 6.643030976, 173.621825407),
        (-177.621825407, 6.643030976, 173.621825407),
        (-177.621825407, 6.643030976, 188.621825407),
        (-207.8, 6.643030976, 188.621825407),
    ]]
    fillet(fillet12_edges, radius=FILLET12_R)


solid = Compound([part_1.part, body_2_2.part, body_3_2.part])
